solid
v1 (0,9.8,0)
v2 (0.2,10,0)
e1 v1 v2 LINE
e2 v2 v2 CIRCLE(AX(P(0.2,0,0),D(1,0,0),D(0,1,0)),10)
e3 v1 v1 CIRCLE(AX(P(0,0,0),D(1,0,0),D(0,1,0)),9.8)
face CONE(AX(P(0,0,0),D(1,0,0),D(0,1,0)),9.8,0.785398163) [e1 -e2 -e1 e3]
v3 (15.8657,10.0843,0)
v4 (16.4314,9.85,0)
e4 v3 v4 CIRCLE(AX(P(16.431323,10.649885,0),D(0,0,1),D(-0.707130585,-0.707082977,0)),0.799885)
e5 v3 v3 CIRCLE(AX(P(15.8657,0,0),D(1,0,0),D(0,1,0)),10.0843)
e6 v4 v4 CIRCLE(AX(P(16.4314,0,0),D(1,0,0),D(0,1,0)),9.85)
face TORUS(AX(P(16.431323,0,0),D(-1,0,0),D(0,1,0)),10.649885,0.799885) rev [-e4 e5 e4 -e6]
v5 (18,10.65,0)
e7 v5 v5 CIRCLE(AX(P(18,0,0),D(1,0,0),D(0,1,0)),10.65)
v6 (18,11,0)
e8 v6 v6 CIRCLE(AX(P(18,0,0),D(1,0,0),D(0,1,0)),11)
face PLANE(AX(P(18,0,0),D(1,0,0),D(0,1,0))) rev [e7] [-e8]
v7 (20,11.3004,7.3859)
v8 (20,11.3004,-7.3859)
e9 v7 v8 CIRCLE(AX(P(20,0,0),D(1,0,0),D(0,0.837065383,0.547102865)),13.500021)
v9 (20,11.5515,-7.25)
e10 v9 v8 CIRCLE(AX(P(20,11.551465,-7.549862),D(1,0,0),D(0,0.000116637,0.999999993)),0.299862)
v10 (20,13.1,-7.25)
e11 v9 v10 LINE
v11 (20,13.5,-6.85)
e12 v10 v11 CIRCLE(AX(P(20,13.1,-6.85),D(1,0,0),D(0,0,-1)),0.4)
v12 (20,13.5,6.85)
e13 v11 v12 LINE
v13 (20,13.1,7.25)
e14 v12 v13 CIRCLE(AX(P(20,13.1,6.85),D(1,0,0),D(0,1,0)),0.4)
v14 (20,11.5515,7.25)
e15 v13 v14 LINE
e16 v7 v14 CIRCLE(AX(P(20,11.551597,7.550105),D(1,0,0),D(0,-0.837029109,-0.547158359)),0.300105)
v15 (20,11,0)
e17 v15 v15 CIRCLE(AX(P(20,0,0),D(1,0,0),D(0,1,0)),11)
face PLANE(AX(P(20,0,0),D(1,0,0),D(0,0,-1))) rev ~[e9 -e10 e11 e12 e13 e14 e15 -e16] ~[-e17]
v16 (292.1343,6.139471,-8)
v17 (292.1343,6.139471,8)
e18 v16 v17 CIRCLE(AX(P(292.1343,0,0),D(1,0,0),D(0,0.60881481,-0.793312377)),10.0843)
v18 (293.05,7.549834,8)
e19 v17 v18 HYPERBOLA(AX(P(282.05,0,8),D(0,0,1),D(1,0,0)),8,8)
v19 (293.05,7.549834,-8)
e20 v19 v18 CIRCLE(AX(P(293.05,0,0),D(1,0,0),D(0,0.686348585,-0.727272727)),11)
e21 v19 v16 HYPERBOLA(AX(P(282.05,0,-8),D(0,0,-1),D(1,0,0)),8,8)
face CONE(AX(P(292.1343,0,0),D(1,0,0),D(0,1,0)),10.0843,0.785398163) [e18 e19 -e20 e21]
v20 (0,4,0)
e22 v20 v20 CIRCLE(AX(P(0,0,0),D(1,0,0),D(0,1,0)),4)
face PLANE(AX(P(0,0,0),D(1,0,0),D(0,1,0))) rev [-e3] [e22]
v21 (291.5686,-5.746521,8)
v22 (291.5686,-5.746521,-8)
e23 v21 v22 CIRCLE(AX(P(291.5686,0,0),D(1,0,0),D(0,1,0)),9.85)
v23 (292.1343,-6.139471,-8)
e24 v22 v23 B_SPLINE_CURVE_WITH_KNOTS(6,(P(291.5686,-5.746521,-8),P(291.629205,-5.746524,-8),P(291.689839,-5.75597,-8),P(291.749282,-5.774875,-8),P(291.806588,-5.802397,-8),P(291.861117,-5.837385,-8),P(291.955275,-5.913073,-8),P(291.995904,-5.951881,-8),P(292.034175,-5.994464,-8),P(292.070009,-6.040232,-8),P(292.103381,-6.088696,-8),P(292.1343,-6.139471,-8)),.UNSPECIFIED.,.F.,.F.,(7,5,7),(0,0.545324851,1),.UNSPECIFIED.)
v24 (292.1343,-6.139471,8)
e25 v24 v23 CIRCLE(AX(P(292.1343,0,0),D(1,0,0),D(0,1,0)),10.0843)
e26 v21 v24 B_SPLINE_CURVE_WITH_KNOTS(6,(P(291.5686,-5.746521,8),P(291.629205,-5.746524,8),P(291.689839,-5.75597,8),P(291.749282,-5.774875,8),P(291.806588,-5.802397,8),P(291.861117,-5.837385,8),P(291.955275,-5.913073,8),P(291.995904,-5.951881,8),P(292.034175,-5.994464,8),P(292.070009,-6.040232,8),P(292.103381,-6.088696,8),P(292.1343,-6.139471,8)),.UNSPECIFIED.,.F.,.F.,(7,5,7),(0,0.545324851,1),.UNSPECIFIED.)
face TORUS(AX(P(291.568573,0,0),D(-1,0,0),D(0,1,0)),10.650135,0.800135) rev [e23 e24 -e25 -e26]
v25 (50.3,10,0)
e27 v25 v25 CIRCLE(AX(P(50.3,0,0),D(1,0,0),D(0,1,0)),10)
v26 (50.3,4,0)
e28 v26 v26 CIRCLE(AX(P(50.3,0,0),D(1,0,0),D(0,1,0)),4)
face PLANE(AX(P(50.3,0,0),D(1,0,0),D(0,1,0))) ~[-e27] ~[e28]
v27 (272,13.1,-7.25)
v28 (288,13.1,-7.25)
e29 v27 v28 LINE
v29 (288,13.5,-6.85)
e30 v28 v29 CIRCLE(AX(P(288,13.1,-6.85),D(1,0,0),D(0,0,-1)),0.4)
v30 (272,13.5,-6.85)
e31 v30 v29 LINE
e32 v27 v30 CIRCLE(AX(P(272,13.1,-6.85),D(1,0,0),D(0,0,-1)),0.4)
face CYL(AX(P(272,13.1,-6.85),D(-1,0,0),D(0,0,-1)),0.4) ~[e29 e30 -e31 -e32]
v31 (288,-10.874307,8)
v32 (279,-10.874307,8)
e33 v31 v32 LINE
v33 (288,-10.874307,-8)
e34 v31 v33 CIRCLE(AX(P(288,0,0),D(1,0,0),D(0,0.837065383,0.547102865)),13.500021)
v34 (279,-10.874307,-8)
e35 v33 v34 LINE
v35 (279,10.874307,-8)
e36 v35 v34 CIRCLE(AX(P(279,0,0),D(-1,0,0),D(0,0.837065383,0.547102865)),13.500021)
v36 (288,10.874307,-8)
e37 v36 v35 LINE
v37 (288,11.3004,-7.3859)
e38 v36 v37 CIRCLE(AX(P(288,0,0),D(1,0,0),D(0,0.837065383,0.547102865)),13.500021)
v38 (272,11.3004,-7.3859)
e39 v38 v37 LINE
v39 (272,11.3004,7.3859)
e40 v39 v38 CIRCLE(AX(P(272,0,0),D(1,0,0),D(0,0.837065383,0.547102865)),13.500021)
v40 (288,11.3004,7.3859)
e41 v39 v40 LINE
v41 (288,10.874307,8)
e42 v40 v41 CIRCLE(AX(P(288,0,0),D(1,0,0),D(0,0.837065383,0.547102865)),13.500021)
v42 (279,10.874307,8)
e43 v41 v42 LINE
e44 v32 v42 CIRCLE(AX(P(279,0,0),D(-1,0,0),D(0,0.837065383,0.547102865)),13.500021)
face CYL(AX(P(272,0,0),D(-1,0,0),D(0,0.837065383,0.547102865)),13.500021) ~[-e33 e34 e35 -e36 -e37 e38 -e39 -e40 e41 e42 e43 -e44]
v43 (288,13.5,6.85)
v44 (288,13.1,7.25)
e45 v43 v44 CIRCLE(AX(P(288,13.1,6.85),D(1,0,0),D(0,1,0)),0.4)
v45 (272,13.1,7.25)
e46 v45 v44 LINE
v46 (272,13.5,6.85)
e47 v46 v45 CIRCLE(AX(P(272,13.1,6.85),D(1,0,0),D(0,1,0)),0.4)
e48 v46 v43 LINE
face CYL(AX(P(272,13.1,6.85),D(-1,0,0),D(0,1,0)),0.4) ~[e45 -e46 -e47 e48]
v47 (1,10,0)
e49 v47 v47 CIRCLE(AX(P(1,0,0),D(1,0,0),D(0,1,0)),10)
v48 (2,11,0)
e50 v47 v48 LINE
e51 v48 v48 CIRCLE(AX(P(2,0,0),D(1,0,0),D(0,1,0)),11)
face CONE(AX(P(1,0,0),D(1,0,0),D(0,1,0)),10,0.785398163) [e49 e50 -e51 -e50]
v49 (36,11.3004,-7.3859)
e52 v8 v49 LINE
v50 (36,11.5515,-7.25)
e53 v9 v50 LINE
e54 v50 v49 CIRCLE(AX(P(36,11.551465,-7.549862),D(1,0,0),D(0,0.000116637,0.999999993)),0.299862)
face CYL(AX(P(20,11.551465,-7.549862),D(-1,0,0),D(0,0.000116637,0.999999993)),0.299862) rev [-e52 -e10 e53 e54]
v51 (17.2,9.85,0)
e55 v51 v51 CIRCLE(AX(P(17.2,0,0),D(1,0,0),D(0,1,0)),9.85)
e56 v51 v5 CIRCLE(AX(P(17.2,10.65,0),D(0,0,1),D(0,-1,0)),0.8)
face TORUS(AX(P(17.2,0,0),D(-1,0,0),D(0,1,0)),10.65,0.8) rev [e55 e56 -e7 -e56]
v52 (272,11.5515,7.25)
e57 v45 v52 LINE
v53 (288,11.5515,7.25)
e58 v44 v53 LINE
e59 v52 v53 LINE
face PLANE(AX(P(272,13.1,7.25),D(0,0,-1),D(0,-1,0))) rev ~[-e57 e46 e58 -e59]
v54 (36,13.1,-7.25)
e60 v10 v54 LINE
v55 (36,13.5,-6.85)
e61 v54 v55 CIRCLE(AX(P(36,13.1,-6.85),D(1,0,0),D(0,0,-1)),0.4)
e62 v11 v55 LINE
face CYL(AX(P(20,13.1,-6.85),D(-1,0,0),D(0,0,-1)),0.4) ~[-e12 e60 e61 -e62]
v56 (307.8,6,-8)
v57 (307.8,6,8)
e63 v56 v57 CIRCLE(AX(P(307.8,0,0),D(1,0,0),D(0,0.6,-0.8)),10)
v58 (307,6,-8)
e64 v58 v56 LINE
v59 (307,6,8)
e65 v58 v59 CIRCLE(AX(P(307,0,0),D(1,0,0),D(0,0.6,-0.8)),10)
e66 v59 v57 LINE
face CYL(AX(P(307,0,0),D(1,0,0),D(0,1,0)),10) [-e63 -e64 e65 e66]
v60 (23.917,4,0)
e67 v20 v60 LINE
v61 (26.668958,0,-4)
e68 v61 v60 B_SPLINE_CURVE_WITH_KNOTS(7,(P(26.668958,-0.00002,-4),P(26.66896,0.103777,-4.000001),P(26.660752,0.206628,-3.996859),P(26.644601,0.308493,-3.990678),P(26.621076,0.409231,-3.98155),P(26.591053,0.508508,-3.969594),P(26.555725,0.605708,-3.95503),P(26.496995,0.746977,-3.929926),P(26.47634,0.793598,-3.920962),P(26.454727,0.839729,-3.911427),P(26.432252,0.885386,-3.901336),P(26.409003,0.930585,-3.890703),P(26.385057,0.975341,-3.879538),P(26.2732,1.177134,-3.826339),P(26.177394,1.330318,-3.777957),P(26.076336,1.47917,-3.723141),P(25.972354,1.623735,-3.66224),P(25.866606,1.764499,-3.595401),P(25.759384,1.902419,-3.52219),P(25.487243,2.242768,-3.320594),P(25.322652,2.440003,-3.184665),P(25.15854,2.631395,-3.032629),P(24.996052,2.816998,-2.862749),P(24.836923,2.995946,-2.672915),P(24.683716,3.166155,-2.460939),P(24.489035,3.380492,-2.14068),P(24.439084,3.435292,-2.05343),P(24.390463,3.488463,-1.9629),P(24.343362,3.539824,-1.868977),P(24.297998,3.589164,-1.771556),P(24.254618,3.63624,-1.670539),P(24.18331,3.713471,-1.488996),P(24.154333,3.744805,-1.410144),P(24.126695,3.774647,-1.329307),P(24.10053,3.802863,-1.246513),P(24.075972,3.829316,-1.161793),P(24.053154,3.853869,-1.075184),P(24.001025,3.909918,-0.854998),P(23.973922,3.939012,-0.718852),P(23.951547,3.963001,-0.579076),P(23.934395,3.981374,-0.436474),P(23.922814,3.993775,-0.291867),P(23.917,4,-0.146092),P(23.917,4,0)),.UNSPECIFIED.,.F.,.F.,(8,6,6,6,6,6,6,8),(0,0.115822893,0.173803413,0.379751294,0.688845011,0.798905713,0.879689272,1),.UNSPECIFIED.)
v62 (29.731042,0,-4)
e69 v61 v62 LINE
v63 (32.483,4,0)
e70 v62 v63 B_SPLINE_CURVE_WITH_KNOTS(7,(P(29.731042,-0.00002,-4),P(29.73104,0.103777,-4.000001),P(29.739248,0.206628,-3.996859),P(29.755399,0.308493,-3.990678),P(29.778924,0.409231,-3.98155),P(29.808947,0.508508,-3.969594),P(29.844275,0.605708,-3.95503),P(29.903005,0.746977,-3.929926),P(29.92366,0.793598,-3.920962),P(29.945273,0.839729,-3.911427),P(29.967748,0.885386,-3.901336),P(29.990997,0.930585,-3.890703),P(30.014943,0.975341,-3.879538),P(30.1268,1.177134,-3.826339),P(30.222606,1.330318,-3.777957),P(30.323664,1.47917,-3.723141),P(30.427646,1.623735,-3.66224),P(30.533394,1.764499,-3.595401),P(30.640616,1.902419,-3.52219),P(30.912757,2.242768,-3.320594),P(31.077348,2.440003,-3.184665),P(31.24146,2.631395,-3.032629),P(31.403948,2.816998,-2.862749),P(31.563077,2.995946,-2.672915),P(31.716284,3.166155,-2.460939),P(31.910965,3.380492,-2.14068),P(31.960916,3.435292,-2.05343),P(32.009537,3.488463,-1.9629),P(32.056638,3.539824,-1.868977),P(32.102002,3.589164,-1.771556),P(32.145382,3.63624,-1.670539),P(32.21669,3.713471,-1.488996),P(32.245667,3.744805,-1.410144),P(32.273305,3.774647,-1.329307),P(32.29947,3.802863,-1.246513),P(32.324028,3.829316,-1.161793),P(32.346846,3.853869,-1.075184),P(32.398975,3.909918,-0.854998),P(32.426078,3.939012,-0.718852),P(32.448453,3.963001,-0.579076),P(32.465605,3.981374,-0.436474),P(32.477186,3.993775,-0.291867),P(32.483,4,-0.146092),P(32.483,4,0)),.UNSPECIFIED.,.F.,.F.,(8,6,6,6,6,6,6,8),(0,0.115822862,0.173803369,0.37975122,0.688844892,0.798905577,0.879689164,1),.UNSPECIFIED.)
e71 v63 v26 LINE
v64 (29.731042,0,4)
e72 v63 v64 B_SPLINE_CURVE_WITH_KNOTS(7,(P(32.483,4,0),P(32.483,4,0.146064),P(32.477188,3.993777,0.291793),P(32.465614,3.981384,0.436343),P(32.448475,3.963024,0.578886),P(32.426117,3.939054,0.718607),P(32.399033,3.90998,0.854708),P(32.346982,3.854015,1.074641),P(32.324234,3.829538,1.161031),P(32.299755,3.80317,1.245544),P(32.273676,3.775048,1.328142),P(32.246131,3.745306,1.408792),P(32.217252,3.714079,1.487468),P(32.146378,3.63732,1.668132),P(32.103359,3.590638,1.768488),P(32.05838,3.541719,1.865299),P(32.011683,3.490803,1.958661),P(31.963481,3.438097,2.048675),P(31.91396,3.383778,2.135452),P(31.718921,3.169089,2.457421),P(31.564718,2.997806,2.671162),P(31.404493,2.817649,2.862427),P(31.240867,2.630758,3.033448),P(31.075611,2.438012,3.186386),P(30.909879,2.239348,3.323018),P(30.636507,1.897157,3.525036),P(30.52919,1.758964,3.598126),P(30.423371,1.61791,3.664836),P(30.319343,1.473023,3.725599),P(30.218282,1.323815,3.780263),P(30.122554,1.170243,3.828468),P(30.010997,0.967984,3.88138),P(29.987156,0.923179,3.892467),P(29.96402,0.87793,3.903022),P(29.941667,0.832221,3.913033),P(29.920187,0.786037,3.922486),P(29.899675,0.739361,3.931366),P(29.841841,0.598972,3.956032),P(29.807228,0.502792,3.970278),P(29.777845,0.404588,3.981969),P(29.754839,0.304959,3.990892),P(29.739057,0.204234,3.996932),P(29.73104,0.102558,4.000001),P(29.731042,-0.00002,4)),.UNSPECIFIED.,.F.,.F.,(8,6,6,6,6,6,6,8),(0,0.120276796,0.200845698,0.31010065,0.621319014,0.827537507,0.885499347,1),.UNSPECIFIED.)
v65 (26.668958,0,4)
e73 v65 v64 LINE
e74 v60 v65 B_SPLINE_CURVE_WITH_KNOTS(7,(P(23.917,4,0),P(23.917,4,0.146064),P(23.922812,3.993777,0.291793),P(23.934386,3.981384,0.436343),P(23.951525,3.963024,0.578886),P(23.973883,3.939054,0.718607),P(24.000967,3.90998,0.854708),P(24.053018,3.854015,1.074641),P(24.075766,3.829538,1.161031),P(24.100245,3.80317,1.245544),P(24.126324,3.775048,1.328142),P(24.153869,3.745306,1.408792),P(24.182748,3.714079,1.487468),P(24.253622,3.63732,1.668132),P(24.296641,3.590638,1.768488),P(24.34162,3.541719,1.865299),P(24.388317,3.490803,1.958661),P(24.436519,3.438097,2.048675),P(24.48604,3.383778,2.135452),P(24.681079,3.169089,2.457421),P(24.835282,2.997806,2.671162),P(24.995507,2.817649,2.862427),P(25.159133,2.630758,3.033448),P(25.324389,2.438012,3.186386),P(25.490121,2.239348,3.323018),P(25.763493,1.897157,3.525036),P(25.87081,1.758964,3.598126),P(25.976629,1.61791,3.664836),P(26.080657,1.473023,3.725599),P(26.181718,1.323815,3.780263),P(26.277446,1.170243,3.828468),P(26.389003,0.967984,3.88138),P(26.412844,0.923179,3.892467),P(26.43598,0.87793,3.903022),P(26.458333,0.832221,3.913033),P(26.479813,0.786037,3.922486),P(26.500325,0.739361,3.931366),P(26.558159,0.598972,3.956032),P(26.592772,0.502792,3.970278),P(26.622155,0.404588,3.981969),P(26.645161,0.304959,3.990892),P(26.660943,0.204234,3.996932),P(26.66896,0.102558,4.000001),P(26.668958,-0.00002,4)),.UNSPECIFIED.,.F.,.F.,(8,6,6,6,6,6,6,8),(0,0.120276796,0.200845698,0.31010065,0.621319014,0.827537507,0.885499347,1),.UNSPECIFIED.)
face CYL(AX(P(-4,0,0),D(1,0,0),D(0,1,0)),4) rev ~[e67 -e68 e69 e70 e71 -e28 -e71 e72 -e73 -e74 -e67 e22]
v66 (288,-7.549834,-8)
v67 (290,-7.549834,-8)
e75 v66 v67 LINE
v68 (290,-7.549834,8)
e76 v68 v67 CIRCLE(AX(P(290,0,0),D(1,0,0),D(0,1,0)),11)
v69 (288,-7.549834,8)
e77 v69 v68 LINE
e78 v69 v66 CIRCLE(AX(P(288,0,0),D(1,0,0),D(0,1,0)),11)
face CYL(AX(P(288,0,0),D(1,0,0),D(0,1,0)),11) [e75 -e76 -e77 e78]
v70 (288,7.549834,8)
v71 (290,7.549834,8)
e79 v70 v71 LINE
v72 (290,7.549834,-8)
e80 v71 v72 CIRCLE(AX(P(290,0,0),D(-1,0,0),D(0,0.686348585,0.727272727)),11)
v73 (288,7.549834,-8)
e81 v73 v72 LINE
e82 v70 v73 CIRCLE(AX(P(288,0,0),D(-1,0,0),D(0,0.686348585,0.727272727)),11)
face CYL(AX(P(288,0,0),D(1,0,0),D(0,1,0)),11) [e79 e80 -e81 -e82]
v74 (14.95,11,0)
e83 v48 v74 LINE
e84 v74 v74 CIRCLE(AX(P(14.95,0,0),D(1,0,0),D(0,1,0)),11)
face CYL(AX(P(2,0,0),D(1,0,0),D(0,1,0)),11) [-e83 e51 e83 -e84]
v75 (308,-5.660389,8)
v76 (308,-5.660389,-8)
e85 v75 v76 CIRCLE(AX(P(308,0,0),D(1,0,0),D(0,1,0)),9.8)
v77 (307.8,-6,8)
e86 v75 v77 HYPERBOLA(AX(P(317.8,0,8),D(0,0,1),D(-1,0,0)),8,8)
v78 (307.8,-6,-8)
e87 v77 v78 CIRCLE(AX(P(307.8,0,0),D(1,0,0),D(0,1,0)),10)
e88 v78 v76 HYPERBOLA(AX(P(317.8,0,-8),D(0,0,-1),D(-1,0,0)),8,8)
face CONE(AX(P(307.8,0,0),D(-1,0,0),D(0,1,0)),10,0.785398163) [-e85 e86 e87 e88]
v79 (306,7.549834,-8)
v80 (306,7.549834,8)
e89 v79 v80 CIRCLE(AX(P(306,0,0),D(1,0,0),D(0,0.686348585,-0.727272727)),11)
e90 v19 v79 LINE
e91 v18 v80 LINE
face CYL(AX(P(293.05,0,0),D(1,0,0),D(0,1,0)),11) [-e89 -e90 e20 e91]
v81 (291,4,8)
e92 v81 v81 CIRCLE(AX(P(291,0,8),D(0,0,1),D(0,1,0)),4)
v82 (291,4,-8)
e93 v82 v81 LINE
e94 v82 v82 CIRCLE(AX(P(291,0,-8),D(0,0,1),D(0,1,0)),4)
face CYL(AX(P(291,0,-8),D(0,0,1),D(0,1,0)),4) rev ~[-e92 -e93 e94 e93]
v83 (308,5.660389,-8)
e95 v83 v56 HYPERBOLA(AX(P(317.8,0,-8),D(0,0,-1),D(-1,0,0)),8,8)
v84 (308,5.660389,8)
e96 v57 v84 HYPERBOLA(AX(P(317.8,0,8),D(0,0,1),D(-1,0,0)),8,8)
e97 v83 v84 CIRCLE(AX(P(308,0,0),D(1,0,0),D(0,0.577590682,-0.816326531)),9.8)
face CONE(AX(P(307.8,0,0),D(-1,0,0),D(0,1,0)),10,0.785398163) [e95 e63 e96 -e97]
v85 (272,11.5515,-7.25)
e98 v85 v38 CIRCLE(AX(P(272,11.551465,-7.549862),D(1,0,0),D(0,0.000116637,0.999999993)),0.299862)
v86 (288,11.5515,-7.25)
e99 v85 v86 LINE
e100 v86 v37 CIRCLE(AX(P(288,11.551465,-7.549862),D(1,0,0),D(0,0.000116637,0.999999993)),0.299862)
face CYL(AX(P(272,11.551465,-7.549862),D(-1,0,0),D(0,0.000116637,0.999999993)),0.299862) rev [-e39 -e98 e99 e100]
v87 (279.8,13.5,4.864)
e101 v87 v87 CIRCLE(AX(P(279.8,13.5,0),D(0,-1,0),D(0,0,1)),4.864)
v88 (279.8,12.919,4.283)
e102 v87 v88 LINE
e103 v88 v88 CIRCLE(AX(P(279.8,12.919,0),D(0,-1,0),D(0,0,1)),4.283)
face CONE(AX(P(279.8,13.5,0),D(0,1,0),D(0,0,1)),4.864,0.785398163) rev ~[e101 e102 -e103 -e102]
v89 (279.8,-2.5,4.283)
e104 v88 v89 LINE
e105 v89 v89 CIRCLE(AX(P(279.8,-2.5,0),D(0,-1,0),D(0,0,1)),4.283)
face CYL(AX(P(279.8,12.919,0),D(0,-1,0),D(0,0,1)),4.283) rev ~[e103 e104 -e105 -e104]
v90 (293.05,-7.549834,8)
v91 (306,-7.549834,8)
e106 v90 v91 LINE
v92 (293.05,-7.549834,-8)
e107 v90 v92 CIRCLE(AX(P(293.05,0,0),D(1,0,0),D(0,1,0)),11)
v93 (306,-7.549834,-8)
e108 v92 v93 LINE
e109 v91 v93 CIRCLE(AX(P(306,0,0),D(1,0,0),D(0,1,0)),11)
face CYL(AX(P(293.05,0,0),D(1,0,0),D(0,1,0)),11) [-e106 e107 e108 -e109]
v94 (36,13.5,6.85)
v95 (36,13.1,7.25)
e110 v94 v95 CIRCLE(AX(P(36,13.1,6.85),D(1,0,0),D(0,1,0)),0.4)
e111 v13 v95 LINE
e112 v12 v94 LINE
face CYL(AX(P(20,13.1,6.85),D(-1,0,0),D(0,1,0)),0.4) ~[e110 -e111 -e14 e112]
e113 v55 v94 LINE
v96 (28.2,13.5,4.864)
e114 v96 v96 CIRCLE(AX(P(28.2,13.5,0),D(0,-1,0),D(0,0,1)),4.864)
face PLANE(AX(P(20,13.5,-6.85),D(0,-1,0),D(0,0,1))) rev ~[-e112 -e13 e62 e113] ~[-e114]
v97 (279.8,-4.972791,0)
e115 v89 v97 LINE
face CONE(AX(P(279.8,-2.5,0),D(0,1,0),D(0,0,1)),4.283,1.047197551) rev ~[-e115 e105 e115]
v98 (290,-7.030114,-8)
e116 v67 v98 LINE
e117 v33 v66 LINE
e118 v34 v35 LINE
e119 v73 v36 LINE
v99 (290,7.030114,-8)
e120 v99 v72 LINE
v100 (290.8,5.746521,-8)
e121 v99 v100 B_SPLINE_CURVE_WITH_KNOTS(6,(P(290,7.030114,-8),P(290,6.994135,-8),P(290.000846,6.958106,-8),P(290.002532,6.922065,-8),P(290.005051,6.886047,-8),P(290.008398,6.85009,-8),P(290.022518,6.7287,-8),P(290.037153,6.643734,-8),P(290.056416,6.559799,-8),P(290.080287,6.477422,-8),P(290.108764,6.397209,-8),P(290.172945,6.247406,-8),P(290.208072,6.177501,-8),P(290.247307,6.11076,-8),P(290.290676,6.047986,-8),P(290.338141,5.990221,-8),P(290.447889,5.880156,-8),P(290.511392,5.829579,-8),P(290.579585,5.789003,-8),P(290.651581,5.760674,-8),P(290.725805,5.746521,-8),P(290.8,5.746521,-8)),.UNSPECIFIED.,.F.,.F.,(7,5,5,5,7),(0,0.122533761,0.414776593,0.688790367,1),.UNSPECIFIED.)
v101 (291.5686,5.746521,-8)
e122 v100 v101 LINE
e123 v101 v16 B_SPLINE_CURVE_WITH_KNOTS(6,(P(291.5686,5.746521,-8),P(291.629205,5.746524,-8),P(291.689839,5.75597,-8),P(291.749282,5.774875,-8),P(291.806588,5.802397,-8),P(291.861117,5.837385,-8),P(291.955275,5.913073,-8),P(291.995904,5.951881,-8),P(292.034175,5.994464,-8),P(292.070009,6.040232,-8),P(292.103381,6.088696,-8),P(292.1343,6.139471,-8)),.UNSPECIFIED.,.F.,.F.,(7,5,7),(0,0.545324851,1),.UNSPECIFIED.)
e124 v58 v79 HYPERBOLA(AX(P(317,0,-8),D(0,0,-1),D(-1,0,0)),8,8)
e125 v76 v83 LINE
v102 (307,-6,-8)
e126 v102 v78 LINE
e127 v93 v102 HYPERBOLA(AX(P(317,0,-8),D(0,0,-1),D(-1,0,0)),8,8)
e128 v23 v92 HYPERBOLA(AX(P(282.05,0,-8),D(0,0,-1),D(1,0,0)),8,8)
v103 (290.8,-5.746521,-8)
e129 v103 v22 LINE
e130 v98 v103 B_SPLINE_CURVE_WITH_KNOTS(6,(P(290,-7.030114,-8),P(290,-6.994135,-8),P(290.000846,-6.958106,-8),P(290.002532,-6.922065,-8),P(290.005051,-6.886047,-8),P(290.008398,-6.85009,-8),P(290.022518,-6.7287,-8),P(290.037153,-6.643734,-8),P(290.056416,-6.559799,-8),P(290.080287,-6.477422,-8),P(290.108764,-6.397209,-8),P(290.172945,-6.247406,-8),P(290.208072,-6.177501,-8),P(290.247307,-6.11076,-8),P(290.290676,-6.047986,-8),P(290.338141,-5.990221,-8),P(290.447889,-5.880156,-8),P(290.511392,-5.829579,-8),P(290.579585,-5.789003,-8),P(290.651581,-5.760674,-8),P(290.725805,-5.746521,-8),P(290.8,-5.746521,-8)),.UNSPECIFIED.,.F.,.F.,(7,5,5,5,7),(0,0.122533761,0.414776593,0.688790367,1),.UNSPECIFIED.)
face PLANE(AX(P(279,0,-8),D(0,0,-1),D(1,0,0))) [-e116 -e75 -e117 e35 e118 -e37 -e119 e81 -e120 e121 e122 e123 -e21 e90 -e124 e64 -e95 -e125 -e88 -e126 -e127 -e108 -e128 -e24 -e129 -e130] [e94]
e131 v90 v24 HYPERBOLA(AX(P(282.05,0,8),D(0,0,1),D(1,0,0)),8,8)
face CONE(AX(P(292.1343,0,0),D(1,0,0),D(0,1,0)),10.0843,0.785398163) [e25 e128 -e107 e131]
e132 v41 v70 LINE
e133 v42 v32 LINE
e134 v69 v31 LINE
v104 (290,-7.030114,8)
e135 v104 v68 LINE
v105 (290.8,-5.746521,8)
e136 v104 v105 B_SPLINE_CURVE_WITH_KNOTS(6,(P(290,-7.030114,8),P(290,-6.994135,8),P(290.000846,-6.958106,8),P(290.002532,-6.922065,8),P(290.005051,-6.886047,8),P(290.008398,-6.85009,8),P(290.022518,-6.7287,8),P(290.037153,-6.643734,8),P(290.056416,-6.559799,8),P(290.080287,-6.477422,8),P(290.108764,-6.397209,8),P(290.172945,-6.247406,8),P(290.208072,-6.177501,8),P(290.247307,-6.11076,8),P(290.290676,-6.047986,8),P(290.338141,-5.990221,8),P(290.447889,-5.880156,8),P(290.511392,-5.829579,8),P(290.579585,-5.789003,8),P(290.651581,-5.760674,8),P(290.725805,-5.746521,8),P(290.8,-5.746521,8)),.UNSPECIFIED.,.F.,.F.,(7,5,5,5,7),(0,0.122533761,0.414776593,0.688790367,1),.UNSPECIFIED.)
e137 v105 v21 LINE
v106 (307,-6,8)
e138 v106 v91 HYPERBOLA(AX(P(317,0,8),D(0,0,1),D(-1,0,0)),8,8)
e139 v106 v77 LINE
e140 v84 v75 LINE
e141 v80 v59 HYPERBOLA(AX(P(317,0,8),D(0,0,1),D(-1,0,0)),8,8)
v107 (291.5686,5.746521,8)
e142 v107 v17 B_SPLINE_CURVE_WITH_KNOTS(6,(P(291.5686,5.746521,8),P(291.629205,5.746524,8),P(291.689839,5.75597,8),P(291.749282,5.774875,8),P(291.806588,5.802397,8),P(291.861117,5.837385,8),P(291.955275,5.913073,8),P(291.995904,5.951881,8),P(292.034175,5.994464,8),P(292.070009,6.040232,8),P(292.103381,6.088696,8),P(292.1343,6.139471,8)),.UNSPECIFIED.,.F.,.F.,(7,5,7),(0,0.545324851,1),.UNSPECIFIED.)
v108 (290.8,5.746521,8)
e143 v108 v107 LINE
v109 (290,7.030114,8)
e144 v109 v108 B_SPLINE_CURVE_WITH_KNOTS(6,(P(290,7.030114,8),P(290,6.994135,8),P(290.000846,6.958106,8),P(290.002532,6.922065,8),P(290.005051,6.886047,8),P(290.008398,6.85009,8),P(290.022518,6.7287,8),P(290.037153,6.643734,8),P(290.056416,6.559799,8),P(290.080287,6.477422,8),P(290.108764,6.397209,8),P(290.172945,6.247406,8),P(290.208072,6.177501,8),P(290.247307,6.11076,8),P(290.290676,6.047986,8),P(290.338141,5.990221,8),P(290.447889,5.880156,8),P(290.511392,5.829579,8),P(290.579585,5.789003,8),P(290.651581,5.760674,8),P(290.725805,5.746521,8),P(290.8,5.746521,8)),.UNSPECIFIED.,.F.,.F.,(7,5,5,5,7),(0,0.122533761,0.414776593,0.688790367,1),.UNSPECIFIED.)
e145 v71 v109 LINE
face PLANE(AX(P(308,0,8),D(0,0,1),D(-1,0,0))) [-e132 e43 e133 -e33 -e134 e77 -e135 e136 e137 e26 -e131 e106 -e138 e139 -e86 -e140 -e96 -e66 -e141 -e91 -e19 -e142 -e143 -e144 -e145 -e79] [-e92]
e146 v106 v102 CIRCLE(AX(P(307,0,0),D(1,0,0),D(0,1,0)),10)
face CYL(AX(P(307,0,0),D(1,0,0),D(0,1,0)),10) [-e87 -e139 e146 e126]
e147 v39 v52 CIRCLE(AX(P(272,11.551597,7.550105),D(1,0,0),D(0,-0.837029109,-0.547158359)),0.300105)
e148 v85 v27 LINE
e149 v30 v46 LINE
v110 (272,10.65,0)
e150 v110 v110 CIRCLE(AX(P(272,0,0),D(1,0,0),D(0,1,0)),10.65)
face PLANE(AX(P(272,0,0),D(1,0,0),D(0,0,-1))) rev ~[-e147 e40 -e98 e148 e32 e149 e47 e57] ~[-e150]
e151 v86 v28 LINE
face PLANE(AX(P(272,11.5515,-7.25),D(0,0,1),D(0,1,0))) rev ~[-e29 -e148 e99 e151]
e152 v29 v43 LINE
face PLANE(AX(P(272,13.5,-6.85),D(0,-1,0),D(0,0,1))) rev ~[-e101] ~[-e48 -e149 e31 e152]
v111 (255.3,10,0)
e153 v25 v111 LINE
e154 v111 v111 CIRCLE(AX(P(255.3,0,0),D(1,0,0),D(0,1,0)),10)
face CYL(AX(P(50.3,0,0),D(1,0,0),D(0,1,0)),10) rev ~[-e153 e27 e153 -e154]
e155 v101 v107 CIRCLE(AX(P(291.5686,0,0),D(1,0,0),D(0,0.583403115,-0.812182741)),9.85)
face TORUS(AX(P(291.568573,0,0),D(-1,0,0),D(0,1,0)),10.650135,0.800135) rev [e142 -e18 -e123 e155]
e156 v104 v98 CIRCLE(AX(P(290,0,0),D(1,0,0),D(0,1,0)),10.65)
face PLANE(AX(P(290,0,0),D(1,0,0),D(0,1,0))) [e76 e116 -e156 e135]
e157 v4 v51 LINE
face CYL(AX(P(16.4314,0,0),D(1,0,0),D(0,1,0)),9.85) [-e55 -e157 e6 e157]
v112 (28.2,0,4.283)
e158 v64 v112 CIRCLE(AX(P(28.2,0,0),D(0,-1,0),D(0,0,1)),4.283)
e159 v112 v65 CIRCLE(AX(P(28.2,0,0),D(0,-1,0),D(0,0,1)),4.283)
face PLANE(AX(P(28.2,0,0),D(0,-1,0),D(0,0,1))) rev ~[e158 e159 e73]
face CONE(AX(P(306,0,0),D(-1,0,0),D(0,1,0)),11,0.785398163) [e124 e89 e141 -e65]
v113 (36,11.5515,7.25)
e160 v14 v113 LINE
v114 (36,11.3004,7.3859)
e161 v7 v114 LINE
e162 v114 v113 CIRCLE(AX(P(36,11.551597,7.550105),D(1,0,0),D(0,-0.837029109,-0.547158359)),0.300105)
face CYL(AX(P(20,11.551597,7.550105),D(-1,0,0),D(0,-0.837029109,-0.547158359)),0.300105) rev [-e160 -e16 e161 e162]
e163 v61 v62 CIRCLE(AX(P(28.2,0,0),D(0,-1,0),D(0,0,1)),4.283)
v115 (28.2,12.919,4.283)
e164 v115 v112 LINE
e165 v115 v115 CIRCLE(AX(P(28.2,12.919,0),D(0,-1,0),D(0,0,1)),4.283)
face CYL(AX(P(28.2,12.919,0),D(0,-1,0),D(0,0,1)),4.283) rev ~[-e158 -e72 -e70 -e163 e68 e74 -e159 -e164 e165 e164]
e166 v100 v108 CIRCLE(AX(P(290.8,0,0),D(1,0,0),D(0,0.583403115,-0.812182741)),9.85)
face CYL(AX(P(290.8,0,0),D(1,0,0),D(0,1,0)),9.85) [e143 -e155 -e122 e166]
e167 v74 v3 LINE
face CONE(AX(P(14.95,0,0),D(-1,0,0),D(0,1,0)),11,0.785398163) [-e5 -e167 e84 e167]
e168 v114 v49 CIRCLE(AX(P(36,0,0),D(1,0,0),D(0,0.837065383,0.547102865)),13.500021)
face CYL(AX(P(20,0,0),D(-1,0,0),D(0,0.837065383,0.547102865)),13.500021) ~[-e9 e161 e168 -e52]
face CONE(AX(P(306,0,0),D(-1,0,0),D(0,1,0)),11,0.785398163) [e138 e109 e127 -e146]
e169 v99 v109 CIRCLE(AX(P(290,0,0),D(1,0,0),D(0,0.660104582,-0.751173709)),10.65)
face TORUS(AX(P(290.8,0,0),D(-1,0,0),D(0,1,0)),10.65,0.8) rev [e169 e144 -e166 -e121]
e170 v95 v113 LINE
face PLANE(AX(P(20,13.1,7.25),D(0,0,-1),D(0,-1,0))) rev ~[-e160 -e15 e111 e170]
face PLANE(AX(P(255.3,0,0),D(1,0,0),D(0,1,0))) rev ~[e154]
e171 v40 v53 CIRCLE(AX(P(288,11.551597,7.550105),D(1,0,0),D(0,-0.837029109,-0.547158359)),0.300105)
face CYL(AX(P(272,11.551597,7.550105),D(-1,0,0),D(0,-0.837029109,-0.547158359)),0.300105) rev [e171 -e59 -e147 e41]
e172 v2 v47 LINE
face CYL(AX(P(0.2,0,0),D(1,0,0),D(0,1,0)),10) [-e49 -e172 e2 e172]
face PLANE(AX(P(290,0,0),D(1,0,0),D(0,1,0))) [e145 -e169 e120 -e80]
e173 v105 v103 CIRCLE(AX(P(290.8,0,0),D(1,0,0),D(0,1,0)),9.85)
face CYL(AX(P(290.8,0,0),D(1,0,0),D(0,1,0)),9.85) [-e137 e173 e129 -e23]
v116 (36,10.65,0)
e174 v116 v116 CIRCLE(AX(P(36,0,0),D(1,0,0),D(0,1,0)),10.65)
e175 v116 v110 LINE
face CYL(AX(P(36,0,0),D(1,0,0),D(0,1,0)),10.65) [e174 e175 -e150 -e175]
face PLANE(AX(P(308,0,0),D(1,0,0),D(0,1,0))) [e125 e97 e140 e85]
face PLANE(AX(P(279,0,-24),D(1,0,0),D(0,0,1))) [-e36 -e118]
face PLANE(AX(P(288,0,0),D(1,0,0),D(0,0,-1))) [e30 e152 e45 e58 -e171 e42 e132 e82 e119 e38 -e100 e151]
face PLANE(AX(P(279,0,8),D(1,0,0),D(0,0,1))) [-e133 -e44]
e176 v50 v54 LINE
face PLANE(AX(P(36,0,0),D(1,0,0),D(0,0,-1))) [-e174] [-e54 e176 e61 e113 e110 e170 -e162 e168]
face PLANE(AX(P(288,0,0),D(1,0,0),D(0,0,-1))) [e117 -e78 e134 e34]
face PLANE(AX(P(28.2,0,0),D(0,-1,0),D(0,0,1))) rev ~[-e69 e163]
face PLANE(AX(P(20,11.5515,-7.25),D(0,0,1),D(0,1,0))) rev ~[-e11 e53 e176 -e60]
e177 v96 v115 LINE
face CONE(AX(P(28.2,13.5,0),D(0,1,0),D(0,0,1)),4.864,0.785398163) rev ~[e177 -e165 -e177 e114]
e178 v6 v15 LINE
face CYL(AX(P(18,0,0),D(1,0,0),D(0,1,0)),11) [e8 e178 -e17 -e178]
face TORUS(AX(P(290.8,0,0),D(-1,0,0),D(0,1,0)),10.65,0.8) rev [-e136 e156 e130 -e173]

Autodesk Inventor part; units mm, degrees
sketch "Sketch_1" plane through (0, 0, 0) normal (0, 0, 1) x (1, 0, 0)
  line L0 (20, 0) -> (0, 0)
  line L1 (0, 0) -> (0, 9.8)
  line L2 (0, 9.8) -> (0.2, 10)
  line L3 (0.2, 10) -> (1, 10)
  line L4 (1, 10) -> (2, 11)
  line L5 (2, 11) -> (14.95, 11)
  line L6 (14.95, 11) -> (15.8657, 10.0843)
  arc A0 (15.8657, 10.0843) -> (16.4314, 9.85) centre (16.4314, 10.65) ccw
  line L7 (16.4314, 9.85) -> (17.2, 9.85)
  arc A1 (17.2, 9.85) -> (18, 10.65) centre (17.2, 10.65) ccw
  line L8 (18, 10.65) -> (18, 11)
  line L9 (18, 11) -> (20, 11)
  line L10 (20, 11) -> (20, 0)
  line L11 (20, 0) -> (0, 0)
revolve "Revolution1" add sketch "Sketch_1" angle 360 about axis through (20, 0, 0) along (1, 0, 0)
thread "Thread1" size "M22x1.5" class "6g" standard "ISO Metric profile" full length
sketch "Sketch_2" plane through (20, 0, 0) normal (1, 0, 0) x (0, 0, -1)
  arc A0 (-7.3859, 11.3004) -> (7.3859, 11.3004) centre (0, 0) ccw
  arc A1 (7.25, 11.5515) -> (7.3859, 11.3004) centre (7.55, 11.5515) ccw
  line L0 (7.25, 11.5515) -> (7.25, 13.1)
  arc A2 (7.25, 13.1) -> (6.85, 13.5) centre (6.85, 13.1) ccw
  line L1 (6.85, 13.5) -> (-6.85, 13.5)
  arc A3 (-6.85, 13.5) -> (-7.25, 13.1) centre (-6.85, 13.1) ccw
  line L2 (-7.25, 13.1) -> (-7.25, 11.5515)
  arc A4 (-7.3859, 11.3004) -> (-7.25, 11.5515) centre (-7.55, 11.5515) ccw
extrude "Extrusion1" add sketch "Sketch_2" along normal blind 16
sketch "Sketch_3" plane through (0, 0, 0) normal (0, 0, 1) x (1, 0, 0)
  line L0 (272, 0) -> (36, 0)
  line L1 (36, 0) -> (36, 10.65)
  line L2 (36, 10.65) -> (272, 10.65)
  line L3 (272, 10.65) -> (272, 0)
  line L4 (272, 0) -> (36, 0)
revolve "Revolution2" add sketch "Sketch_3" angle 360 about axis through (272, 0, 0) along (1, 0, 0)
sketch "Sketch_16" plane through (272, 0, 0) normal (1, 0, 0) x (0, 0, -1)
  arc A0 (-7.3859, 11.3004) -> (7.3859, 11.3004) centre (0, 0) ccw
  arc A1 (7.25, 11.5515) -> (7.3859, 11.3004) centre (7.55, 11.5515) ccw
  line L0 (7.25, 11.5515) -> (7.25, 13.1)
  arc A2 (7.25, 13.1) -> (6.85, 13.5) centre (6.85, 13.1) ccw
  line L1 (6.85, 13.5) -> (-6.85, 13.5)
  arc A3 (-6.85, 13.5) -> (-7.25, 13.1) centre (-6.85, 13.1) ccw
  line L2 (-7.25, 13.1) -> (-7.25, 11.5515)
  arc A4 (-7.3859, 11.3004) -> (-7.25, 11.5515) centre (-7.55, 11.5515) ccw
extrude "Extrusion2" add sketch "Sketch_16" along normal blind 16
sketch "Sketch_23" plane through (0, 0, 0) normal (0, 0, 1) x (1, 0, 0)
  line L0 (308, 0) -> (288, 0)
  line L1 (288, 0) -> (288, 11)
  line L2 (288, 11) -> (290, 11)
  line L3 (290, 11) -> (290, 10.65)
  arc A0 (290, 10.65) -> (290.8, 9.85) centre (290.8, 10.65) ccw
  line L4 (290.8, 9.85) -> (291.5686, 9.85)
  arc A1 (291.5686, 9.85) -> (292.1343, 10.0843) centre (291.5686, 10.65) ccw
  line L5 (292.1343, 10.0843) -> (293.05, 11)
  line L6 (293.05, 11) -> (306, 11)
  line L7 (306, 11) -> (307, 10)
  line L8 (307, 10) -> (307.8, 10)
  line L9 (307.8, 10) -> (308, 9.8)
  line L10 (308, 9.8) -> (308, 0)
  line L11 (308, 0) -> (288, 0)
revolve "Revolution3" add sketch "Sketch_23" angle 360 about axis through (308, 0, 0) along (1, 0, 0)
thread "Thread2" size "M22x1.5" class "6g" standard "ISO Metric profile" full length
sketch "Sketch_6" plane through (0, 0, 0) normal (0, 1, 0) x (-1, 0, 0)
  line L0 (-279, -24) -> (-279, -8)
  line L1 (-279, -8) -> (-308, -8)
  line L2 (-308, -8) -> (-308, 8)
  line L3 (-308, 8) -> (-279, 8)
  line L4 (-279, 8) -> (-279, 24)
  line L5 (-279, 24) -> (-324, 24)
  line L6 (-324, 24) -> (-324, -24)
  line L7 (-324, -24) -> (-279, -24)
extrude "Extrusion3" cut sketch "Sketch_6" along normal mid plane 27
sketch "Sketch7" plane through (306, -7.5498, -8) normal (0, 0, -1) x (-1, 0, 0)
  point P0 (15, 7.5498)
hole "Hole1" at (291, 0, -8) direction (0, 0, 1) diameter 8 depth 16
sketch "Sketch8" plane through (20, 13.5, 6.85) normal (0, 1, 0) x (1, 0, 0)
  point P0 (8.2, 6.85)
hole "Hole2" at (28.2, 13.5, 0) direction (0, -1, 0) diameter 8.566 depth 13.5 countersink diameter 9.728 countersink angle 90 thread size "G9.728x0.907" designation "G 1/8" standard "ISO Pipe Threads"
sketch "Sketch9" plane through (272, 13.5, 6.85) normal (0, 1, 0) x (1, 0, 0)
  point P0 (7.8, 6.85)
hole "Hole3" at (279.8, 13.5, 0) direction (0, -1, 0) diameter 8.566 depth 16 tip angle 120 countersink diameter 9.728 countersink angle 90 thread size "G9.728x0.907" designation "G 1/8" standard "ISO Pipe Threads"
sketch "Sketch_64" plane through (0, 0, 0) normal (0, 0, 1) x (1, 0, 0)
  line L0 (255.3, 0) -> (-4, 0)
  line L1 (-4, 0) -> (-4, 4)
  line L2 (-4, 4) -> (50.3, 4)
  line L3 (50.3, 4) -> (50.3, 10)
  line L4 (50.3, 10) -> (255.3, 10)
  line L5 (255.3, 10) -> (255.3, 0)
  line L6 (255.3, 0) -> (-4, 0)
revolve "Revolution4" cut sketch "Sketch_64" angle 360 about axis through (255.3, 0, 0) along (1, 0, 0)
ref_plane "FDT_FRONT_XY" through (20, 0, 0) normal (1, 0, 0) x (0, 0, -1)
ref_plane "FDT_FRONT_YZ" through (20, 0, 0) normal (0, 0, -1) x (0, 1, 0)
ref_plane "FDT_FRONT_ZX" through (20, 0, 0) normal (0, 1, 0) x (1, 0, 0)
ref_plane "FDT_QSFRONT_XY" through (28.2, 13.5, 0) normal (0, 1, 0) x (0, 0, 1)
ref_plane "FDT_QSFRONT_YZ" through (28.2, 13.5, 0) normal (0, 0, 1) x (1, 0, 0)
ref_plane "FDT_QSFRONT_ZX" through (28.2, 13.5, 0) normal (1, 0, 0) x (0, 1, 0)
ref_plane "FDT_QSREAR_XY" through (279.8, 13.5, 0) normal (0, 1, 0) x (0, 0, 1)
ref_plane "FDT_QSREAR_YZ" through (279.8, 13.5, 0) normal (0, 0, 1) x (1, 0, 0)
ref_plane "FDT_QSREAR_ZX" through (279.8, 13.5, 0) normal (1, 0, 0) x (0, 1, 0)
ref_plane "FDT_REAR_XY" through (288, 0, 0) normal (-1, 0, 0) x (0, 0, -1)
ref_plane "FDT_REAR_YZ" through (288, 0, 0) normal (0, 0, -1) x (0, -1, 0)
ref_plane "FDT_REAR_ZX" through (288, 0, 0) normal (0, -1, 0) x (-1, 0, 0)
ref_plane "FDT_SMBR1_XY" through (45.5, 0, 0) normal (-1, 0, 0) x (0, 0, 1)
ref_plane "FDT_SMBR1_YZ" through (45.5, 0, 0) normal (0, 0, 1) x (0, 1, 0)
ref_plane "FDT_SMBR1_ZX" through (45.5, 0, 0) normal (0, 1, 0) x (-1, 0, 0)
ref_plane "FDT_SMBR2_XY" through (262.5, 0, 0) normal (-1, 0, 0) x (0, 0, 1)
ref_plane "FDT_SMBR2_YZ" through (262.5, 0, 0) normal (0, 0, 1) x (0, 1, 0)
ref_plane "FDT_SMBR2_ZX" through (262.5, 0, 0) normal (0, 1, 0) x (-1, 0, 0)
ref_plane "FDT_SWIVELAXIS_XY" through (291, 0, 0) normal (0, 0, 1) x (1, 0, 0)
ref_plane "FDT_SWIVELAXIS_YZ" through (291, 0, 0) normal (1, 0, 0) x (0, 1, 0)
ref_plane "FDT_SWIVELAXIS_ZX" through (291, 0, 0) normal (0, 1, 0) x (0, 0, 1)
ref_plane "NUT_XY" through (6.5, 0, 0) normal (1, 0, 0) x (0, 0, -1)
ref_plane "NUT_YZ" through (6.5, 0, 0) normal (0, 0, -1) x (0, 1, 0)
ref_plane "NUT_ZX" through (6.5, 0, 0) normal (0, 1, 0) x (1, 0, 0)
ref_plane "ZR_XY" through (0, 0, 0) normal (1, 0, 0) x (0, 0, -1)
ref_plane "ZR_YZ" through (0, 0, 0) normal (0, 0, -1) x (0, 1, 0)
ref_plane "ZR_ZX" through (0, 0, 0) normal (0, 1, 0) x (1, 0, 0)
ref_plane "ZYL_XY" through (20, 0, 0) normal (1, 0, 0) x (0, 0, -1)
ref_plane "ZYL_YZ" through (20, 0, 0) normal (0, 0, -1) x (0, 1, 0)
ref_plane "ZYL_ZX" through (20, 0, 0) normal (0, 1, 0) x (1, 0, 0)
properties part number "559278 DSNU-20-200-PPS---(A----0-ZR)"
